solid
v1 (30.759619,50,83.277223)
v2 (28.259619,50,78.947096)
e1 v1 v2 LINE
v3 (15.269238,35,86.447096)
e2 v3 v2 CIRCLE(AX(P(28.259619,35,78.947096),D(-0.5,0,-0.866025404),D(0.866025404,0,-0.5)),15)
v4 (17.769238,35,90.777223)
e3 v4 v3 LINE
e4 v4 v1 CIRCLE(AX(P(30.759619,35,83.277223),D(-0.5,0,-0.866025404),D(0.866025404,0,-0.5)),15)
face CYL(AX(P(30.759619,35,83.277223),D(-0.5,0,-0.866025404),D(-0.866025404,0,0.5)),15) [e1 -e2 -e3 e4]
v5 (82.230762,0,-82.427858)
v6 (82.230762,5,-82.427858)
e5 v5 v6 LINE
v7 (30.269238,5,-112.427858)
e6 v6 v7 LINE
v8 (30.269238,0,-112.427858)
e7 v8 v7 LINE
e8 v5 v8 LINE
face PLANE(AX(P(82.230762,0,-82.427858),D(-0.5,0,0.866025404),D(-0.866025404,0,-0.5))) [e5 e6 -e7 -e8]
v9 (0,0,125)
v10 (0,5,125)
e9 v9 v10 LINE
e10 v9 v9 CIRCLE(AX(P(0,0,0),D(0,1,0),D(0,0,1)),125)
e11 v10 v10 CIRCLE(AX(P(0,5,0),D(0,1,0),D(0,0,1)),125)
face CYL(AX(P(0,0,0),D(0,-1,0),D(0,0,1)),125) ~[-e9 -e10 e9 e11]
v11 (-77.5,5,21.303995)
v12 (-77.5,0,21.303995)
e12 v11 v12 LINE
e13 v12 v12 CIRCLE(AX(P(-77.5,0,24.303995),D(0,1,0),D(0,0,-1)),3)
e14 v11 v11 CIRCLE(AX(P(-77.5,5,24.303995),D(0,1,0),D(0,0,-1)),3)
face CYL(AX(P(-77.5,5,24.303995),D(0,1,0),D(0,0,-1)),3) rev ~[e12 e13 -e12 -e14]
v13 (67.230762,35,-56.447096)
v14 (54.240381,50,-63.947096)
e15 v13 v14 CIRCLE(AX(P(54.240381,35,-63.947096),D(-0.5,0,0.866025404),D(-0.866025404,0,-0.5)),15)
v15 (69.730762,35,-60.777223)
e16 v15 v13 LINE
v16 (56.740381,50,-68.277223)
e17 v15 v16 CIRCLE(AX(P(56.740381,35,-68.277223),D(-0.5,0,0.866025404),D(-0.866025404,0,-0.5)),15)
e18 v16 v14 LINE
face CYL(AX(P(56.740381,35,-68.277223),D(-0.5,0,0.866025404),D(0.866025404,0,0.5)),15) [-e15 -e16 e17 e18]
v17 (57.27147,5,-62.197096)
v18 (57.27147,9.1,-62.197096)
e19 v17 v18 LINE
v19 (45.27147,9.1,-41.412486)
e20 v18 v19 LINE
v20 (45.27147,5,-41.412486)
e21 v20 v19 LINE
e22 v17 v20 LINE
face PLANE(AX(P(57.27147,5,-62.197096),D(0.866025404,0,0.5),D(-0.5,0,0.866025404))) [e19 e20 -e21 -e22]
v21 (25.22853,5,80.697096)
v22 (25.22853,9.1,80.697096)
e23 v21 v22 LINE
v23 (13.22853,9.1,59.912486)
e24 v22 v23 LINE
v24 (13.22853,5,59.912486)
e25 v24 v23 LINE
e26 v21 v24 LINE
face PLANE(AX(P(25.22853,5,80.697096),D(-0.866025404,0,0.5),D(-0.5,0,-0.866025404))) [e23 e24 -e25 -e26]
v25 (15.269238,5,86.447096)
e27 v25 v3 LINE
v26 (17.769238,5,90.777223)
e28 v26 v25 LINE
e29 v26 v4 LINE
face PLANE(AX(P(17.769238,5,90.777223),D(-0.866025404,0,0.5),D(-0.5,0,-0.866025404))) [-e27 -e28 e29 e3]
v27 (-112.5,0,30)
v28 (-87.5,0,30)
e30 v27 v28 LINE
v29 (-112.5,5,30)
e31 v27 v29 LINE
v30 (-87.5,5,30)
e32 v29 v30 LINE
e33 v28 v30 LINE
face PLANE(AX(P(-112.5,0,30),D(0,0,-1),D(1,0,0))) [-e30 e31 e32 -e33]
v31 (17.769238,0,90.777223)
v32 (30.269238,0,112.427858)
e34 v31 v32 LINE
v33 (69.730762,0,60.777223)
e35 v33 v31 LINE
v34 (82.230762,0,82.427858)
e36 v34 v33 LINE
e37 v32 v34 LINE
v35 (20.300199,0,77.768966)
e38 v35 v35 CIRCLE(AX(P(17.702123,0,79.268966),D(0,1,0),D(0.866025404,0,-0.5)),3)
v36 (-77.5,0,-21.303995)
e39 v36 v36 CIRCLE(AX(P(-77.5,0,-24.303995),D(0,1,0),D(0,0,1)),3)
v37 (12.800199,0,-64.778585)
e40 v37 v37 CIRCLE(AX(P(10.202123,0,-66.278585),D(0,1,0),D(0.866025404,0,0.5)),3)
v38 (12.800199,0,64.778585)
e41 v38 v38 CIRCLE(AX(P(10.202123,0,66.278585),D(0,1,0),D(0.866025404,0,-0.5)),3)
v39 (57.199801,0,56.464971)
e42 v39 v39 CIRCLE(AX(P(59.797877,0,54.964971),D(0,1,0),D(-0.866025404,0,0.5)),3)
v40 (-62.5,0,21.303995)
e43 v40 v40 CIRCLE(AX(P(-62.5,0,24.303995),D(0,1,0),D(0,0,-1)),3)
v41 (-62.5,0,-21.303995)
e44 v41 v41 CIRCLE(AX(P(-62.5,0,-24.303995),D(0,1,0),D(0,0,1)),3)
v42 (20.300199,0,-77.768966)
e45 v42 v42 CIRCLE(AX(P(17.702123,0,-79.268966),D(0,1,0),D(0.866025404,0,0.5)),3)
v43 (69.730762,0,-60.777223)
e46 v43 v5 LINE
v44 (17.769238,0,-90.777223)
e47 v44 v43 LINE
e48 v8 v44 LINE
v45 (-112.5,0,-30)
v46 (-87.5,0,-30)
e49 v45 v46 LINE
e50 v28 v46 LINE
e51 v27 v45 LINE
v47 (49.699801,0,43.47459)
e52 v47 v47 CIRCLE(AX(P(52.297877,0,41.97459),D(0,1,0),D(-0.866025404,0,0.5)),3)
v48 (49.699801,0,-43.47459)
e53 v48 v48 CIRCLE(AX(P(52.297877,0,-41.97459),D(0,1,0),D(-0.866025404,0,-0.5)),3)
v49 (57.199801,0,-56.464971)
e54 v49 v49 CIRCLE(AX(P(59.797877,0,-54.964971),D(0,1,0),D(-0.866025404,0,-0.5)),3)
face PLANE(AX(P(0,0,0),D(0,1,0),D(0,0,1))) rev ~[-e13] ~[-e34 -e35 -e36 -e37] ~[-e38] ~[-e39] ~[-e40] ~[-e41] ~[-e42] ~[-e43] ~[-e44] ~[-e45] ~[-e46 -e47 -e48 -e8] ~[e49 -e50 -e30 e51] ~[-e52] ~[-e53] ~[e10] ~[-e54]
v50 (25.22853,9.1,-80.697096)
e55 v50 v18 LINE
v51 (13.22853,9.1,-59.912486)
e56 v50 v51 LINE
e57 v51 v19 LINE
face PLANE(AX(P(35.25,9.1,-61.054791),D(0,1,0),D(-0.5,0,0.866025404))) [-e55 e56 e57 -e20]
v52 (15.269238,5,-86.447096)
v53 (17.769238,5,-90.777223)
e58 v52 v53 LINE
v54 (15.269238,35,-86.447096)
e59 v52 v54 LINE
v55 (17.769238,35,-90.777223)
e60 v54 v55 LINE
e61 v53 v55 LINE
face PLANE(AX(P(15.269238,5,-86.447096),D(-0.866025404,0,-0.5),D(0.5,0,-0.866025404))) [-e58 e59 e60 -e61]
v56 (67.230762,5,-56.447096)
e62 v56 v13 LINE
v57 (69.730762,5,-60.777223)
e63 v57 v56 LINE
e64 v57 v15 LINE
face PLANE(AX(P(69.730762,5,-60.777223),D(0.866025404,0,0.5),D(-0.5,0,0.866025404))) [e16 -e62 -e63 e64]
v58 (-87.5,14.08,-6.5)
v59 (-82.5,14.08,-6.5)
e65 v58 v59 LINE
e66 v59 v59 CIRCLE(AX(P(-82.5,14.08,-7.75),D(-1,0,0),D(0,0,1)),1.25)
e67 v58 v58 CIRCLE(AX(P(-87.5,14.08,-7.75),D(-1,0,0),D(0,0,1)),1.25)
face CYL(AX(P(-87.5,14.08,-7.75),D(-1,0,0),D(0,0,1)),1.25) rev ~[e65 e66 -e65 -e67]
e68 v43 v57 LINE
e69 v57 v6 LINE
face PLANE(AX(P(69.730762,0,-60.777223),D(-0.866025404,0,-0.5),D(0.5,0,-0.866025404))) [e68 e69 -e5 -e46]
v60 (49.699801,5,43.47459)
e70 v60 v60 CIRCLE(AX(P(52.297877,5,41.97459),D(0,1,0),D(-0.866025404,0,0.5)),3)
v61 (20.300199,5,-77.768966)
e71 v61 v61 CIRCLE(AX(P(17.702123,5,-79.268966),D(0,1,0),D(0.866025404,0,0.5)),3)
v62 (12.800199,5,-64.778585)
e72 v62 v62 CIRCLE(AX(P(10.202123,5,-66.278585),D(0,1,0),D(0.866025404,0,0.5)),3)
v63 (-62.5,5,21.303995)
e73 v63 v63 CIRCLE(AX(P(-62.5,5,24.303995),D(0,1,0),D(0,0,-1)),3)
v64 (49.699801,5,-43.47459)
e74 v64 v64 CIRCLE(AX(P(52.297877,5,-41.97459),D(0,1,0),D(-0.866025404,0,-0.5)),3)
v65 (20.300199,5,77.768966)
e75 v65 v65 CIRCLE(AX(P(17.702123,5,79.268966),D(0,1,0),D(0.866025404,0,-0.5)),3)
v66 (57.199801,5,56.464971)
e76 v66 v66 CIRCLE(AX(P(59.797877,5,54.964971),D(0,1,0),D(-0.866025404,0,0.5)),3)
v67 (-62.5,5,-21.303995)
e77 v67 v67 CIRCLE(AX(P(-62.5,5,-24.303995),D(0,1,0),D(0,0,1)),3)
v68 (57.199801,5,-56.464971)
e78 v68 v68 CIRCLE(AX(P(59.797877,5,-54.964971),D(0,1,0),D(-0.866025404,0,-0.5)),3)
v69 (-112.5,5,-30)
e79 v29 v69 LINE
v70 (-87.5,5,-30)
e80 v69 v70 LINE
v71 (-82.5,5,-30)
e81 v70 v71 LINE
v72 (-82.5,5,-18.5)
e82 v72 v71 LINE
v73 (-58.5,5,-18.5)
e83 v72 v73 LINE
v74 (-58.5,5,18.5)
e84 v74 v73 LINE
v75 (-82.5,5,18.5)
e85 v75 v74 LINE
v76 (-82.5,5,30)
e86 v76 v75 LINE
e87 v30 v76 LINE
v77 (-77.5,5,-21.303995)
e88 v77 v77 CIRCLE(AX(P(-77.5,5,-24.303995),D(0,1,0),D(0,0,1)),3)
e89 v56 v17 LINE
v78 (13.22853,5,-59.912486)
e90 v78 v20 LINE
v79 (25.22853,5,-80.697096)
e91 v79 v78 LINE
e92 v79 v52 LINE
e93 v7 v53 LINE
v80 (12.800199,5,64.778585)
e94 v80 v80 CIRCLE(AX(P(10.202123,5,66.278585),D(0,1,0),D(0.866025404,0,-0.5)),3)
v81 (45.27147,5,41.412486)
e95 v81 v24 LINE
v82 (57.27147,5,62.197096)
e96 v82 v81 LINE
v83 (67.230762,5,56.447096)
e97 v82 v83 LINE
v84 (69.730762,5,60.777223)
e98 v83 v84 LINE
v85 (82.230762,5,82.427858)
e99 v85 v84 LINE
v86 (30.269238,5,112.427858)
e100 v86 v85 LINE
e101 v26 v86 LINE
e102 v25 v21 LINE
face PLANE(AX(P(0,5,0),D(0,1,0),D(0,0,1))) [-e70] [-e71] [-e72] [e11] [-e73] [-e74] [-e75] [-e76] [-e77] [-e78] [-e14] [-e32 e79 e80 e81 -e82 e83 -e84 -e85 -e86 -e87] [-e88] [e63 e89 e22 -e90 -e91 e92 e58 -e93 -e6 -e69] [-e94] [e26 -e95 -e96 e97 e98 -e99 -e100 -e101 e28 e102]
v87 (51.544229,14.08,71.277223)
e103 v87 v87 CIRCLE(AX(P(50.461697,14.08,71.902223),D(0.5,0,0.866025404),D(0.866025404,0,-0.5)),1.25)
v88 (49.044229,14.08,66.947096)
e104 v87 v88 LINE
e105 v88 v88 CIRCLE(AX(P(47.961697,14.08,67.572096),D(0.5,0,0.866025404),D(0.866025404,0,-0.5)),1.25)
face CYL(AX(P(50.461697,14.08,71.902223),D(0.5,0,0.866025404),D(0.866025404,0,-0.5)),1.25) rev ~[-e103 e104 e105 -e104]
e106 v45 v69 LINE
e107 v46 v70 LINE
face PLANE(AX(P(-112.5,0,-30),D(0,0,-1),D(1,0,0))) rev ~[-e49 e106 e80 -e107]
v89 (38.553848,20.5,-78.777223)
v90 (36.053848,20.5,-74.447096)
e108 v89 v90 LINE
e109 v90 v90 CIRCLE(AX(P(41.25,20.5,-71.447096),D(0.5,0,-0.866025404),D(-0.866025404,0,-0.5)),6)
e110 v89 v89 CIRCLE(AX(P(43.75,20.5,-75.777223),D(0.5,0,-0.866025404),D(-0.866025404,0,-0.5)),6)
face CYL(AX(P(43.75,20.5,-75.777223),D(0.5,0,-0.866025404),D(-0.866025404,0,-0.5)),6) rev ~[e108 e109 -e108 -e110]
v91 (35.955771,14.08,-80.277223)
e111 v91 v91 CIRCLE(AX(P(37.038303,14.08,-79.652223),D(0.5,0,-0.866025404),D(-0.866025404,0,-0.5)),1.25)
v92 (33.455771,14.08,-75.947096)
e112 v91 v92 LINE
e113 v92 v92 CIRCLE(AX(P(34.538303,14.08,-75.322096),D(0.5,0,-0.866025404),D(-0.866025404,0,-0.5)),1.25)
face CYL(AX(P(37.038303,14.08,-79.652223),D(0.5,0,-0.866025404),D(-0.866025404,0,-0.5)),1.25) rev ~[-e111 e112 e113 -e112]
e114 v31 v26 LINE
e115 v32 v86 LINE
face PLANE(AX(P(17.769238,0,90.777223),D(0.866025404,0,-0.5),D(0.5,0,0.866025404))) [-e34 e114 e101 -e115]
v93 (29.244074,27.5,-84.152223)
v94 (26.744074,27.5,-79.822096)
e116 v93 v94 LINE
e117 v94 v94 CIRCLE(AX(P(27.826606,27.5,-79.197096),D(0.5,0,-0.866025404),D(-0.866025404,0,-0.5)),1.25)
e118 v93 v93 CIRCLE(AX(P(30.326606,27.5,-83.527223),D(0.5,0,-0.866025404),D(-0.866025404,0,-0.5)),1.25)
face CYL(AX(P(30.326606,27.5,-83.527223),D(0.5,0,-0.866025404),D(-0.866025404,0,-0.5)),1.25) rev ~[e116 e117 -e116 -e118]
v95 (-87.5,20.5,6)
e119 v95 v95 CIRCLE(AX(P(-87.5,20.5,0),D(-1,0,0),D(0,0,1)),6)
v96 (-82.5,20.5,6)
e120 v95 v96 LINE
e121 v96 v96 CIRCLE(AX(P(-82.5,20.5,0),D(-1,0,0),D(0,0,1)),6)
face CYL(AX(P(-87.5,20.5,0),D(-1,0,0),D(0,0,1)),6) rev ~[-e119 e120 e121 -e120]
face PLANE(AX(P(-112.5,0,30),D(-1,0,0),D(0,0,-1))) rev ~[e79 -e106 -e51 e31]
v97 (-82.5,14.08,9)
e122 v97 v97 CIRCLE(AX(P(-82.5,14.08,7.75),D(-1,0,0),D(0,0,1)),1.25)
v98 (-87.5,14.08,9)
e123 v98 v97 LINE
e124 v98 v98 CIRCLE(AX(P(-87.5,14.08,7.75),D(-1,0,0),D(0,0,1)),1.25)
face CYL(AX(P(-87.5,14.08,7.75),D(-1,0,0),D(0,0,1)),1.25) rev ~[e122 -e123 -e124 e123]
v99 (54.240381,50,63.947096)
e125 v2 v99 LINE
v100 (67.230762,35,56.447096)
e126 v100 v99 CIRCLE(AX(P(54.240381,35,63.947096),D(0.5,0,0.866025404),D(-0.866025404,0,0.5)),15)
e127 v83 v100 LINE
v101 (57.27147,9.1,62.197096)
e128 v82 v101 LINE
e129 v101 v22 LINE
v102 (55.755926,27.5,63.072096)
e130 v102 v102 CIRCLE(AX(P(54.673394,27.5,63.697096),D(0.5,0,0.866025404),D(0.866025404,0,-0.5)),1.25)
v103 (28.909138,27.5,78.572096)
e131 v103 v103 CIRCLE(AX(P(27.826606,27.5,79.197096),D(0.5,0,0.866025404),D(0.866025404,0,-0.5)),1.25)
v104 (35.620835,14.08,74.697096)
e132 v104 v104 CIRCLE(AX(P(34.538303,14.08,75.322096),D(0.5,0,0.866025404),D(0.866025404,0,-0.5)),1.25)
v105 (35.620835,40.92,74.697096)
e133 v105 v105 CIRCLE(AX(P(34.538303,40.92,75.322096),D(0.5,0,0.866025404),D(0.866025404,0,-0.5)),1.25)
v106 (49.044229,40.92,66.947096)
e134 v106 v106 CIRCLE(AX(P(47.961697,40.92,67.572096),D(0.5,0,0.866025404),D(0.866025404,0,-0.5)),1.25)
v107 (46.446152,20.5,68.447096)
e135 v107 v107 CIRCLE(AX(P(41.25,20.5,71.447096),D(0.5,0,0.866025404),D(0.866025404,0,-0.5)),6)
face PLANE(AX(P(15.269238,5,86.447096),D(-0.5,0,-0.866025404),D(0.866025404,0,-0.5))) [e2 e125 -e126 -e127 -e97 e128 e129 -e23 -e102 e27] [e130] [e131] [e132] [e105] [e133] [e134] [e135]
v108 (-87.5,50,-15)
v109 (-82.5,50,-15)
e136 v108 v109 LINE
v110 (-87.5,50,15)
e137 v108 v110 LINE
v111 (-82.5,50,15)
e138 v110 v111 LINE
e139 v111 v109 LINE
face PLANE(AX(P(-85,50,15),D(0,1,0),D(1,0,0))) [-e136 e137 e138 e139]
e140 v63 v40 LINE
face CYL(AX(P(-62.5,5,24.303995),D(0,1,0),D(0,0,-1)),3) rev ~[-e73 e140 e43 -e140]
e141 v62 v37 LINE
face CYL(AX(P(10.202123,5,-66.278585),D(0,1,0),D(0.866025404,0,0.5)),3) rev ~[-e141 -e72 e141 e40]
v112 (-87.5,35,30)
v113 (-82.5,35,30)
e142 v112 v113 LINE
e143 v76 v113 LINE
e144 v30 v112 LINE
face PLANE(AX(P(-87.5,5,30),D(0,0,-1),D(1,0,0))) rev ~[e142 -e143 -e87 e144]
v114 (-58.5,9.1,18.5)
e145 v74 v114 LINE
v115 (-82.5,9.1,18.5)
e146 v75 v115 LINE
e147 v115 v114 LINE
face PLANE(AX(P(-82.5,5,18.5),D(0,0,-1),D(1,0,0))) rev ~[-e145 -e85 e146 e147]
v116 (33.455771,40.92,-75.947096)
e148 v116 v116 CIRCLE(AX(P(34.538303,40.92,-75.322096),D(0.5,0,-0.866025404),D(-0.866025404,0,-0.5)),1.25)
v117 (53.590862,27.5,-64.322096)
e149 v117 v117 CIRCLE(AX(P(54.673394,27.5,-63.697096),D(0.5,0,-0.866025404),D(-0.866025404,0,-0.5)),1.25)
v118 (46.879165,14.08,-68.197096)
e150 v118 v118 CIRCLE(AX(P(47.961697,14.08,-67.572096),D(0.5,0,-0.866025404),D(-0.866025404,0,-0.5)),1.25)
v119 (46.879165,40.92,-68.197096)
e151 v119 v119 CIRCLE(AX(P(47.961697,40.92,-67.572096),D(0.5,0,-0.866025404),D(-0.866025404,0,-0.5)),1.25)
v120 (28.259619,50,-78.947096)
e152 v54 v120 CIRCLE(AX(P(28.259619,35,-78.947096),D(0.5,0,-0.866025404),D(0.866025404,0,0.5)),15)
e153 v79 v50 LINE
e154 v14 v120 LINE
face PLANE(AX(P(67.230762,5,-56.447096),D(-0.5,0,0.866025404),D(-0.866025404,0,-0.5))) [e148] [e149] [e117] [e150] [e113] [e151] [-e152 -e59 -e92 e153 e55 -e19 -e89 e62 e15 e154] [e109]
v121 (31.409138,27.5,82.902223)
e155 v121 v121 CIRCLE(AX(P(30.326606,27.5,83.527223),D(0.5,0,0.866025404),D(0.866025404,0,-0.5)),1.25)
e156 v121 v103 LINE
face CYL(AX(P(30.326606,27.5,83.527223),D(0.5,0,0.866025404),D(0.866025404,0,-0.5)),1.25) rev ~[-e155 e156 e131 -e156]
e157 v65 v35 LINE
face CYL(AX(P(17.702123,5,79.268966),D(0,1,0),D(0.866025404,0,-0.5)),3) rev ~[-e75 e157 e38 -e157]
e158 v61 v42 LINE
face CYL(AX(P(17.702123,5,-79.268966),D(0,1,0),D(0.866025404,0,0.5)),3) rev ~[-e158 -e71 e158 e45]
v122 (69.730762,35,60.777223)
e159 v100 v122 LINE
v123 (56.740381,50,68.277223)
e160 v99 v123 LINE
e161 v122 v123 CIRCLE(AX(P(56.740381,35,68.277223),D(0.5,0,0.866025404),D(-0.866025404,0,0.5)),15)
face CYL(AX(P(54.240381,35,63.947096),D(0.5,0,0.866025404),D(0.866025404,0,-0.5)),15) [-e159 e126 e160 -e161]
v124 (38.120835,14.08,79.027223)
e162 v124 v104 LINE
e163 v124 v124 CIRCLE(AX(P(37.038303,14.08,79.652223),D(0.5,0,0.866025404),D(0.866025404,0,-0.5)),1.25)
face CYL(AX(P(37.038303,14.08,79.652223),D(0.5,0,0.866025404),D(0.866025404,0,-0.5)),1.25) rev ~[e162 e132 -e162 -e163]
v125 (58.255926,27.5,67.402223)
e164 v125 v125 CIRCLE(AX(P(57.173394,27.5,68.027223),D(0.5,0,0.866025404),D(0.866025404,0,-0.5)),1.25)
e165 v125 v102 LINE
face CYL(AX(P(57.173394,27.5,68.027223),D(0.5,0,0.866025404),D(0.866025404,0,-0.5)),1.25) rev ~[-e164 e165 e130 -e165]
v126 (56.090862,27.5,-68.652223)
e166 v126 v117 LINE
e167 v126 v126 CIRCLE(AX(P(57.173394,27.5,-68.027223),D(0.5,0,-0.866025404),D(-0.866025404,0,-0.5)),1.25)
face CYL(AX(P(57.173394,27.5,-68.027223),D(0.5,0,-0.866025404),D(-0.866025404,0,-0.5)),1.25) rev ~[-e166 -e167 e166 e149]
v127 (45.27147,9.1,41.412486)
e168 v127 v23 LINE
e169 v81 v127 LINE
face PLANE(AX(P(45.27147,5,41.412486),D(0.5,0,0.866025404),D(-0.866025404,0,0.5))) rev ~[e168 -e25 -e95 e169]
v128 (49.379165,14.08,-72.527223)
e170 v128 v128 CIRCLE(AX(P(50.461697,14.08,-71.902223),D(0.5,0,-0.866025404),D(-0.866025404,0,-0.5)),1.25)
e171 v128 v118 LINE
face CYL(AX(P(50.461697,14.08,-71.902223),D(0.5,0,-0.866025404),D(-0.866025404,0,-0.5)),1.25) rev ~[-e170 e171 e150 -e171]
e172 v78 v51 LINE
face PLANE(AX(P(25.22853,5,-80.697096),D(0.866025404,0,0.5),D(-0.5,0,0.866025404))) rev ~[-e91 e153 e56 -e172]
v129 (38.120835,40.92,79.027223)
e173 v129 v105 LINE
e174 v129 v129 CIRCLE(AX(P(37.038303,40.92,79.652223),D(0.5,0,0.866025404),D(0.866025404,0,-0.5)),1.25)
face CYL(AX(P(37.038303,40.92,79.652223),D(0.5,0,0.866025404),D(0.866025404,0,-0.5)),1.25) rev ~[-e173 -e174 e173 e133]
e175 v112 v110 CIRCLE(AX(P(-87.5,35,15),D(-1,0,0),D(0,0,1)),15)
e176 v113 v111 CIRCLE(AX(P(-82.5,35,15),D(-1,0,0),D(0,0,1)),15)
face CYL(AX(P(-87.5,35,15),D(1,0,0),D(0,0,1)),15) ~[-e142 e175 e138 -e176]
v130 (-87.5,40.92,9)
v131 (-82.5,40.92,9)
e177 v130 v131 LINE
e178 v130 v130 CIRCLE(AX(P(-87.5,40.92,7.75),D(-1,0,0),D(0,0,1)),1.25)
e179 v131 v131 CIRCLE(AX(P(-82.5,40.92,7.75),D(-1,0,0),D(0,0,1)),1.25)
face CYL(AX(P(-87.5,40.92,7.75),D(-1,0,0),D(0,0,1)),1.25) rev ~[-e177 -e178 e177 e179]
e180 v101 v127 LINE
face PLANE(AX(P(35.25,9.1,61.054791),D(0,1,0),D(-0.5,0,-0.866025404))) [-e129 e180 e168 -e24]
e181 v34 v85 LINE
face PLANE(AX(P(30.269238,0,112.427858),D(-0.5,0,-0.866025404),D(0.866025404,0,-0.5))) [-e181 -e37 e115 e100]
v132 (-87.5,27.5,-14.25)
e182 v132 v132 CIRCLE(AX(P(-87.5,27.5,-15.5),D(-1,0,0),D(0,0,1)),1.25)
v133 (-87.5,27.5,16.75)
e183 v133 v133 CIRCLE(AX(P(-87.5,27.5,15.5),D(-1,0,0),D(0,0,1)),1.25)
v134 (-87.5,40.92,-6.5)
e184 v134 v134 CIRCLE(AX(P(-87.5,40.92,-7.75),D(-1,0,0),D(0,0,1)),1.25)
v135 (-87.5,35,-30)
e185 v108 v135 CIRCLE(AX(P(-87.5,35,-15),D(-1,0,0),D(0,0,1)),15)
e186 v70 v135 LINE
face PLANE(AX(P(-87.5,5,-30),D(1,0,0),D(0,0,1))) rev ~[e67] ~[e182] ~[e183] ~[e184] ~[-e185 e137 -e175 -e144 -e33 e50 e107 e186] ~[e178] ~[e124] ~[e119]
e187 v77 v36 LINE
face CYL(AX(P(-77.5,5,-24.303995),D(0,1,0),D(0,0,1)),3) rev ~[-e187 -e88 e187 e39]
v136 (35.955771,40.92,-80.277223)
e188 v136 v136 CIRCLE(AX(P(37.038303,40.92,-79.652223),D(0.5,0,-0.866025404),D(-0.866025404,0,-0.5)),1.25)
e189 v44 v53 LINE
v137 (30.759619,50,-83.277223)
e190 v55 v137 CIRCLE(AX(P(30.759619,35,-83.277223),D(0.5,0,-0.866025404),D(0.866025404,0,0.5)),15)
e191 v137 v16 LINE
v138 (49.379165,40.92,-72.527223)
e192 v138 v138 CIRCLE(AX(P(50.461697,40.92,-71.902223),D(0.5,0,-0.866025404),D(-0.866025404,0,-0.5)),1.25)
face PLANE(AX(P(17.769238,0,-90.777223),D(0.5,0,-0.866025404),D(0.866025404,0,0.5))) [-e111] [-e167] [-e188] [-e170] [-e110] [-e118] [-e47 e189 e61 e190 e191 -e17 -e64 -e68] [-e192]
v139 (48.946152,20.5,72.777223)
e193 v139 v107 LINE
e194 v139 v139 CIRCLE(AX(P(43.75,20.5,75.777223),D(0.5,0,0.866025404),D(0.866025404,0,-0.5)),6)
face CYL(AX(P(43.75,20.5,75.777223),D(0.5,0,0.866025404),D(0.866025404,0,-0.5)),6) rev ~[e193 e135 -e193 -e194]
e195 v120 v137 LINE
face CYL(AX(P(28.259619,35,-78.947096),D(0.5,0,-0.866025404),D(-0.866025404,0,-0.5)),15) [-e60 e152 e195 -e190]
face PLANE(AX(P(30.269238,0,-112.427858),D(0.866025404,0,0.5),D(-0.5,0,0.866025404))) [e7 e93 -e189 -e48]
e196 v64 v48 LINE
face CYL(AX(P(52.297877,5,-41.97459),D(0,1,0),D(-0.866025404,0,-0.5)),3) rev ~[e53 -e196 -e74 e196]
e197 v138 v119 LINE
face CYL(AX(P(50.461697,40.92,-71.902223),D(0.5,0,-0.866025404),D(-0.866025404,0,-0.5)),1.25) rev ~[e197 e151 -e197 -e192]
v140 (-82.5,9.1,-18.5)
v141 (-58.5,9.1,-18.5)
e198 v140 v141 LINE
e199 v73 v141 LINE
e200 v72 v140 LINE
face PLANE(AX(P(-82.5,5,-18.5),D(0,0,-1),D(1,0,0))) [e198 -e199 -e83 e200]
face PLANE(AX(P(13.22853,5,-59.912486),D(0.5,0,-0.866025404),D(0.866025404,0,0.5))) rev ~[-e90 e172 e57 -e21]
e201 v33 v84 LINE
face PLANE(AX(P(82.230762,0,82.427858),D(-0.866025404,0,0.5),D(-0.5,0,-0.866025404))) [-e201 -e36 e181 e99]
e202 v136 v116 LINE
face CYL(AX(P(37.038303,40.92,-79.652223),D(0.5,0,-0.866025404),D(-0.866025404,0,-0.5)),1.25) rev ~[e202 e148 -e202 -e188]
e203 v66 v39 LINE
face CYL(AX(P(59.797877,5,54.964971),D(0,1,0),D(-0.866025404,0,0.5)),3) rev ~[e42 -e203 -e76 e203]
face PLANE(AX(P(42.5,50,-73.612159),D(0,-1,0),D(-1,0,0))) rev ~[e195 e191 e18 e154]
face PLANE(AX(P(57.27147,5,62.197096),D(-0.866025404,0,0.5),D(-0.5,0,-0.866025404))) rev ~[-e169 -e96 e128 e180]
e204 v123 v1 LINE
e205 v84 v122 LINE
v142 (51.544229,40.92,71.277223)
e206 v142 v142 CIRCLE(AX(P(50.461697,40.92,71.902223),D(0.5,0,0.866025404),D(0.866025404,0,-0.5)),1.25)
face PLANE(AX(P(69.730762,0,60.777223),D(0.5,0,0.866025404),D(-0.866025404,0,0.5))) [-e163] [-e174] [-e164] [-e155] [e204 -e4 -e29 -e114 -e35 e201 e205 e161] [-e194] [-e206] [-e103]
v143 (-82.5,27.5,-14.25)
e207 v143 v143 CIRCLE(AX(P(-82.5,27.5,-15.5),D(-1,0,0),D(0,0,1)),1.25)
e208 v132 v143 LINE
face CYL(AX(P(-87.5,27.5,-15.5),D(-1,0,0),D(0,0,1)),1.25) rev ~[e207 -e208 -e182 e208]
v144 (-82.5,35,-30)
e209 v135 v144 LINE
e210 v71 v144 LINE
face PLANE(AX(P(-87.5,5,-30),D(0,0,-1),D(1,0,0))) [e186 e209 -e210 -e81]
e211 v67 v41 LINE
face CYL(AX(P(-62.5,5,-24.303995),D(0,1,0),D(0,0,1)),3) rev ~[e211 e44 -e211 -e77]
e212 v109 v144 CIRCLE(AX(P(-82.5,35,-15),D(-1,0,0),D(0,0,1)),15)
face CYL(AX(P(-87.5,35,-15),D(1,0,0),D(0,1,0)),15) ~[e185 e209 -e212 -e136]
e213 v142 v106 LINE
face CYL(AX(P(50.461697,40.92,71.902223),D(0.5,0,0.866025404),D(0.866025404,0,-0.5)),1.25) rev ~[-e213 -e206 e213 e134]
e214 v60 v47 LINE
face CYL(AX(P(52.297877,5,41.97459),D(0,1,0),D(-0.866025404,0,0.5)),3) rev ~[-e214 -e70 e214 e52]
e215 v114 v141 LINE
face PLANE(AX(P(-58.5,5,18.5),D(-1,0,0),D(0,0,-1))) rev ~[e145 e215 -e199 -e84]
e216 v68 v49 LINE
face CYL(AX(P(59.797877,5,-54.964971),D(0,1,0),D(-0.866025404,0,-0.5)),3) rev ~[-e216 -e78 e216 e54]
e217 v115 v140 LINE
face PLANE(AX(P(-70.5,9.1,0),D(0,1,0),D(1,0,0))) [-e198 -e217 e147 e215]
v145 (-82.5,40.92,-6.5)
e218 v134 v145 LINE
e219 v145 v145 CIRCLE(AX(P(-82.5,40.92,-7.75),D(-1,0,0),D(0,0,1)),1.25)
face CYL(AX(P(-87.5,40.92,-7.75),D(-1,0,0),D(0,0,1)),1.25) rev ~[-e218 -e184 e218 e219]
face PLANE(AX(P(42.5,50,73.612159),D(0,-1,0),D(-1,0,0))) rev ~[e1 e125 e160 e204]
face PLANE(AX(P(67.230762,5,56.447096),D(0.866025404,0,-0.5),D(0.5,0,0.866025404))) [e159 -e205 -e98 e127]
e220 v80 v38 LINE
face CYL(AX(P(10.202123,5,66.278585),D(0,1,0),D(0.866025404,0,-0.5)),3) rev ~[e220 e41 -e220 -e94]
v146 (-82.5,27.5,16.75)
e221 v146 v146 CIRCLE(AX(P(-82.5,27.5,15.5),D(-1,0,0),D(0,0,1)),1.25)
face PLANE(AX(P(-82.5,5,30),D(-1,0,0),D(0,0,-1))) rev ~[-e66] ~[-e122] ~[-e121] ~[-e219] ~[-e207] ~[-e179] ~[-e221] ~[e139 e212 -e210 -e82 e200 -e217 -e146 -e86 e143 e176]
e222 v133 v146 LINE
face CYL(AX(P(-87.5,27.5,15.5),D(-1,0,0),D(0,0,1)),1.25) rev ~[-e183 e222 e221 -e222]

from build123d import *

# Parameters (mm, degrees)
ESQUISSE1_R                  = 125
ESQUISSE1_W                  = 25
ESQUISSE1_H                  = 60
BOSS_EXTRU_1_DEPTH           = 5
ESQUISSE2_W                  = 5
ESQUISSE2_H                  = 30
BOSS_EXTRU_2_DEPTH           = 45
CONG_1_R                     = 15
ESQUISSE3_R                  = 6
ESQUISSE3_R_2                = 1.25
ENL_V_MAT_EXTRU_1_DEPTH      = 50
R_P_TITION_CIRCULAIRE1_COUNT = 3
ESQUISSE7_W                  = 24
ESQUISSE7_H                  = 37
BOSS_EXTRU_4_DEPTH           = 4.1
ESQUISSE8_R                  = 3
ENL_V_MAT_EXTRU_2_DEPTH      = 183.41436347
R_P_TITION_CIRCULAIRE2_COUNT = 3


with BuildPart() as part:
    # Esquisse1 → Boss.-Extru.1 (new body)
    with BuildSketch(Plane(origin=(0, 0, 0), x_dir=(1, 0, 0), z_dir=(0, 1, 0))):
        with Locations(Location((0, 0, 0), (0, 0, 270))):
            Circle(ESQUISSE1_R)
        with Locations((-100, 0)):
            Rectangle(ESQUISSE1_W, ESQUISSE1_H, mode=Mode.SUBTRACT)
        Polygon((82.230762114, 82.427857926), (30.269237886, 112.427857926), (17.769237886, 90.777222831), (69.730762114, 60.777222831), align=None, mode=Mode.SUBTRACT)
        Polygon((30.269237886, -112.427857926), (82.230762114, -82.427857926), (69.730762114, -60.777222831), (17.769237886, -90.777222831), align=None, mode=Mode.SUBTRACT)
    extrude(amount=BOSS_EXTRU_1_DEPTH)

    # Esquisse2 → Boss.-Extru.2 (add)
    with BuildSketch(Plane(origin=(0, 5, 0), x_dir=(1, 0, 0), z_dir=(0, 1, 0))):
        with Locations((-85, -15)):
            Rectangle(ESQUISSE2_W, ESQUISSE2_H)
        with Locations((-85, 15)):
            Rectangle(ESQUISSE2_W, ESQUISSE2_H)
        Polygon((69.730762114, 60.777222831), (67.230762114, 56.447095812), (15.269237886, 86.447095812), (17.769237886, 90.777222831), align=None)
        Polygon((17.769237886, -90.777222831), (15.269237886, -86.447095812), (67.230762114, -56.447095812), (69.730762114, -60.777222831), align=None)
    extrude(amount=BOSS_EXTRU_2_DEPTH)

    # Congé1
    cong_1_edges = [part.edges().sort_by_distance(p)[0] for p in [
        (-85, 50, -30),
        (-85, 50, 30),
        (68.480762114, 50, -58.612159322),
        (16.519237886, 50, -88.612159322),
        (16.519237886, 50, 88.612159322),
        (68.480762114, 50, 58.612159322),
    ]]
    fillet(cong_1_edges, radius=CONG_1_R)

    # Esquisse3 → Enlèv. mat.-Extru.1 (cut)
    with BuildSketch(Plane.ZY.offset(87.5)):
        with Locations((0, 20.5)):
            Circle(ESQUISSE3_R)
        with Locations((-7.75, 14.08)):
            Circle(ESQUISSE3_R_2)
        with Locations((-15.5, 27.5)):
            Circle(ESQUISSE3_R_2)
        with Locations((-7.75, 40.92)):
            Circle(ESQUISSE3_R_2)
        with Locations((7.75, 40.92)):
            Circle(ESQUISSE3_R_2)
        with Locations((15.5, 27.5)):
            Circle(ESQUISSE3_R_2)
        with Locations((7.75, 14.08)):
            Circle(ESQUISSE3_R_2)
    enl_v_mat_extru_1 = extrude(amount=-ENL_V_MAT_EXTRU_1_DEPTH, mode=Mode.SUBTRACT)

    # Répétition circulaire1: Enlèv. mat.-Extru.1 ×3 about axis
    r_p_tition_circulaire1_axis = Axis((0, 5, 0), (0, 1, 0))
    for i in range(1, R_P_TITION_CIRCULAIRE1_COUNT):
        add(enl_v_mat_extru_1.rotate(r_p_tition_circulaire1_axis, i * 360 / R_P_TITION_CIRCULAIRE1_COUNT), mode=Mode.SUBTRACT)

    # Esquisse7 → Boss.-Extru.4 (add)
    with BuildSketch(Plane(origin=(0, 5, 0), x_dir=(1, 0, 0), z_dir=(0, 1, 0))):
        with Locations((-70.5, 0)):
            Rectangle(ESQUISSE7_W, ESQUISSE7_H)
    boss_extru_4 = extrude(amount=BOSS_EXTRU_4_DEPTH)

    # Esquisse8 → Enlèv. mat.-Extru.2 (cut, through all)
    with BuildSketch(Plane(origin=(0, 5, 0), x_dir=(1, 0, 0), z_dir=(0, 1, 0))):
        with Locations(Location((-77.5, 24.303995394, 0), (0, 0, 270))):
            Circle(ESQUISSE8_R)
        with Locations(Location((-62.5, 24.303995394, 0), (0, 0, 270))):
            Circle(ESQUISSE8_R)
        with Locations(Location((-62.5, -24.303995394, 0), (0, 0, 90))):
            Circle(ESQUISSE8_R)
        with Locations(Location((-77.5, -24.303995394, 0), (0, 0, 90))):
            Circle(ESQUISSE8_R)
    enl_v_mat_extru_2 = extrude(amount=-ENL_V_MAT_EXTRU_2_DEPTH, mode=Mode.SUBTRACT)

    # Répétition circulaire2: Boss.-Extru.4, Enlèv. mat.-Extru.2 ×3 about axis
    r_p_tition_circulaire2_axis = Axis((0, 0, 0), (0, 1, 0))
    add([boss_extru_4.rotate(r_p_tition_circulaire2_axis, i * 360 / R_P_TITION_CIRCULAIRE2_COUNT) for i in range(1, R_P_TITION_CIRCULAIRE2_COUNT)])
    add([enl_v_mat_extru_2.rotate(r_p_tition_circulaire2_axis, i * 360 / R_P_TITION_CIRCULAIRE2_COUNT) for i in range(1, R_P_TITION_CIRCULAIRE2_COUNT)], mode=Mode.SUBTRACT)


solid = part.part
